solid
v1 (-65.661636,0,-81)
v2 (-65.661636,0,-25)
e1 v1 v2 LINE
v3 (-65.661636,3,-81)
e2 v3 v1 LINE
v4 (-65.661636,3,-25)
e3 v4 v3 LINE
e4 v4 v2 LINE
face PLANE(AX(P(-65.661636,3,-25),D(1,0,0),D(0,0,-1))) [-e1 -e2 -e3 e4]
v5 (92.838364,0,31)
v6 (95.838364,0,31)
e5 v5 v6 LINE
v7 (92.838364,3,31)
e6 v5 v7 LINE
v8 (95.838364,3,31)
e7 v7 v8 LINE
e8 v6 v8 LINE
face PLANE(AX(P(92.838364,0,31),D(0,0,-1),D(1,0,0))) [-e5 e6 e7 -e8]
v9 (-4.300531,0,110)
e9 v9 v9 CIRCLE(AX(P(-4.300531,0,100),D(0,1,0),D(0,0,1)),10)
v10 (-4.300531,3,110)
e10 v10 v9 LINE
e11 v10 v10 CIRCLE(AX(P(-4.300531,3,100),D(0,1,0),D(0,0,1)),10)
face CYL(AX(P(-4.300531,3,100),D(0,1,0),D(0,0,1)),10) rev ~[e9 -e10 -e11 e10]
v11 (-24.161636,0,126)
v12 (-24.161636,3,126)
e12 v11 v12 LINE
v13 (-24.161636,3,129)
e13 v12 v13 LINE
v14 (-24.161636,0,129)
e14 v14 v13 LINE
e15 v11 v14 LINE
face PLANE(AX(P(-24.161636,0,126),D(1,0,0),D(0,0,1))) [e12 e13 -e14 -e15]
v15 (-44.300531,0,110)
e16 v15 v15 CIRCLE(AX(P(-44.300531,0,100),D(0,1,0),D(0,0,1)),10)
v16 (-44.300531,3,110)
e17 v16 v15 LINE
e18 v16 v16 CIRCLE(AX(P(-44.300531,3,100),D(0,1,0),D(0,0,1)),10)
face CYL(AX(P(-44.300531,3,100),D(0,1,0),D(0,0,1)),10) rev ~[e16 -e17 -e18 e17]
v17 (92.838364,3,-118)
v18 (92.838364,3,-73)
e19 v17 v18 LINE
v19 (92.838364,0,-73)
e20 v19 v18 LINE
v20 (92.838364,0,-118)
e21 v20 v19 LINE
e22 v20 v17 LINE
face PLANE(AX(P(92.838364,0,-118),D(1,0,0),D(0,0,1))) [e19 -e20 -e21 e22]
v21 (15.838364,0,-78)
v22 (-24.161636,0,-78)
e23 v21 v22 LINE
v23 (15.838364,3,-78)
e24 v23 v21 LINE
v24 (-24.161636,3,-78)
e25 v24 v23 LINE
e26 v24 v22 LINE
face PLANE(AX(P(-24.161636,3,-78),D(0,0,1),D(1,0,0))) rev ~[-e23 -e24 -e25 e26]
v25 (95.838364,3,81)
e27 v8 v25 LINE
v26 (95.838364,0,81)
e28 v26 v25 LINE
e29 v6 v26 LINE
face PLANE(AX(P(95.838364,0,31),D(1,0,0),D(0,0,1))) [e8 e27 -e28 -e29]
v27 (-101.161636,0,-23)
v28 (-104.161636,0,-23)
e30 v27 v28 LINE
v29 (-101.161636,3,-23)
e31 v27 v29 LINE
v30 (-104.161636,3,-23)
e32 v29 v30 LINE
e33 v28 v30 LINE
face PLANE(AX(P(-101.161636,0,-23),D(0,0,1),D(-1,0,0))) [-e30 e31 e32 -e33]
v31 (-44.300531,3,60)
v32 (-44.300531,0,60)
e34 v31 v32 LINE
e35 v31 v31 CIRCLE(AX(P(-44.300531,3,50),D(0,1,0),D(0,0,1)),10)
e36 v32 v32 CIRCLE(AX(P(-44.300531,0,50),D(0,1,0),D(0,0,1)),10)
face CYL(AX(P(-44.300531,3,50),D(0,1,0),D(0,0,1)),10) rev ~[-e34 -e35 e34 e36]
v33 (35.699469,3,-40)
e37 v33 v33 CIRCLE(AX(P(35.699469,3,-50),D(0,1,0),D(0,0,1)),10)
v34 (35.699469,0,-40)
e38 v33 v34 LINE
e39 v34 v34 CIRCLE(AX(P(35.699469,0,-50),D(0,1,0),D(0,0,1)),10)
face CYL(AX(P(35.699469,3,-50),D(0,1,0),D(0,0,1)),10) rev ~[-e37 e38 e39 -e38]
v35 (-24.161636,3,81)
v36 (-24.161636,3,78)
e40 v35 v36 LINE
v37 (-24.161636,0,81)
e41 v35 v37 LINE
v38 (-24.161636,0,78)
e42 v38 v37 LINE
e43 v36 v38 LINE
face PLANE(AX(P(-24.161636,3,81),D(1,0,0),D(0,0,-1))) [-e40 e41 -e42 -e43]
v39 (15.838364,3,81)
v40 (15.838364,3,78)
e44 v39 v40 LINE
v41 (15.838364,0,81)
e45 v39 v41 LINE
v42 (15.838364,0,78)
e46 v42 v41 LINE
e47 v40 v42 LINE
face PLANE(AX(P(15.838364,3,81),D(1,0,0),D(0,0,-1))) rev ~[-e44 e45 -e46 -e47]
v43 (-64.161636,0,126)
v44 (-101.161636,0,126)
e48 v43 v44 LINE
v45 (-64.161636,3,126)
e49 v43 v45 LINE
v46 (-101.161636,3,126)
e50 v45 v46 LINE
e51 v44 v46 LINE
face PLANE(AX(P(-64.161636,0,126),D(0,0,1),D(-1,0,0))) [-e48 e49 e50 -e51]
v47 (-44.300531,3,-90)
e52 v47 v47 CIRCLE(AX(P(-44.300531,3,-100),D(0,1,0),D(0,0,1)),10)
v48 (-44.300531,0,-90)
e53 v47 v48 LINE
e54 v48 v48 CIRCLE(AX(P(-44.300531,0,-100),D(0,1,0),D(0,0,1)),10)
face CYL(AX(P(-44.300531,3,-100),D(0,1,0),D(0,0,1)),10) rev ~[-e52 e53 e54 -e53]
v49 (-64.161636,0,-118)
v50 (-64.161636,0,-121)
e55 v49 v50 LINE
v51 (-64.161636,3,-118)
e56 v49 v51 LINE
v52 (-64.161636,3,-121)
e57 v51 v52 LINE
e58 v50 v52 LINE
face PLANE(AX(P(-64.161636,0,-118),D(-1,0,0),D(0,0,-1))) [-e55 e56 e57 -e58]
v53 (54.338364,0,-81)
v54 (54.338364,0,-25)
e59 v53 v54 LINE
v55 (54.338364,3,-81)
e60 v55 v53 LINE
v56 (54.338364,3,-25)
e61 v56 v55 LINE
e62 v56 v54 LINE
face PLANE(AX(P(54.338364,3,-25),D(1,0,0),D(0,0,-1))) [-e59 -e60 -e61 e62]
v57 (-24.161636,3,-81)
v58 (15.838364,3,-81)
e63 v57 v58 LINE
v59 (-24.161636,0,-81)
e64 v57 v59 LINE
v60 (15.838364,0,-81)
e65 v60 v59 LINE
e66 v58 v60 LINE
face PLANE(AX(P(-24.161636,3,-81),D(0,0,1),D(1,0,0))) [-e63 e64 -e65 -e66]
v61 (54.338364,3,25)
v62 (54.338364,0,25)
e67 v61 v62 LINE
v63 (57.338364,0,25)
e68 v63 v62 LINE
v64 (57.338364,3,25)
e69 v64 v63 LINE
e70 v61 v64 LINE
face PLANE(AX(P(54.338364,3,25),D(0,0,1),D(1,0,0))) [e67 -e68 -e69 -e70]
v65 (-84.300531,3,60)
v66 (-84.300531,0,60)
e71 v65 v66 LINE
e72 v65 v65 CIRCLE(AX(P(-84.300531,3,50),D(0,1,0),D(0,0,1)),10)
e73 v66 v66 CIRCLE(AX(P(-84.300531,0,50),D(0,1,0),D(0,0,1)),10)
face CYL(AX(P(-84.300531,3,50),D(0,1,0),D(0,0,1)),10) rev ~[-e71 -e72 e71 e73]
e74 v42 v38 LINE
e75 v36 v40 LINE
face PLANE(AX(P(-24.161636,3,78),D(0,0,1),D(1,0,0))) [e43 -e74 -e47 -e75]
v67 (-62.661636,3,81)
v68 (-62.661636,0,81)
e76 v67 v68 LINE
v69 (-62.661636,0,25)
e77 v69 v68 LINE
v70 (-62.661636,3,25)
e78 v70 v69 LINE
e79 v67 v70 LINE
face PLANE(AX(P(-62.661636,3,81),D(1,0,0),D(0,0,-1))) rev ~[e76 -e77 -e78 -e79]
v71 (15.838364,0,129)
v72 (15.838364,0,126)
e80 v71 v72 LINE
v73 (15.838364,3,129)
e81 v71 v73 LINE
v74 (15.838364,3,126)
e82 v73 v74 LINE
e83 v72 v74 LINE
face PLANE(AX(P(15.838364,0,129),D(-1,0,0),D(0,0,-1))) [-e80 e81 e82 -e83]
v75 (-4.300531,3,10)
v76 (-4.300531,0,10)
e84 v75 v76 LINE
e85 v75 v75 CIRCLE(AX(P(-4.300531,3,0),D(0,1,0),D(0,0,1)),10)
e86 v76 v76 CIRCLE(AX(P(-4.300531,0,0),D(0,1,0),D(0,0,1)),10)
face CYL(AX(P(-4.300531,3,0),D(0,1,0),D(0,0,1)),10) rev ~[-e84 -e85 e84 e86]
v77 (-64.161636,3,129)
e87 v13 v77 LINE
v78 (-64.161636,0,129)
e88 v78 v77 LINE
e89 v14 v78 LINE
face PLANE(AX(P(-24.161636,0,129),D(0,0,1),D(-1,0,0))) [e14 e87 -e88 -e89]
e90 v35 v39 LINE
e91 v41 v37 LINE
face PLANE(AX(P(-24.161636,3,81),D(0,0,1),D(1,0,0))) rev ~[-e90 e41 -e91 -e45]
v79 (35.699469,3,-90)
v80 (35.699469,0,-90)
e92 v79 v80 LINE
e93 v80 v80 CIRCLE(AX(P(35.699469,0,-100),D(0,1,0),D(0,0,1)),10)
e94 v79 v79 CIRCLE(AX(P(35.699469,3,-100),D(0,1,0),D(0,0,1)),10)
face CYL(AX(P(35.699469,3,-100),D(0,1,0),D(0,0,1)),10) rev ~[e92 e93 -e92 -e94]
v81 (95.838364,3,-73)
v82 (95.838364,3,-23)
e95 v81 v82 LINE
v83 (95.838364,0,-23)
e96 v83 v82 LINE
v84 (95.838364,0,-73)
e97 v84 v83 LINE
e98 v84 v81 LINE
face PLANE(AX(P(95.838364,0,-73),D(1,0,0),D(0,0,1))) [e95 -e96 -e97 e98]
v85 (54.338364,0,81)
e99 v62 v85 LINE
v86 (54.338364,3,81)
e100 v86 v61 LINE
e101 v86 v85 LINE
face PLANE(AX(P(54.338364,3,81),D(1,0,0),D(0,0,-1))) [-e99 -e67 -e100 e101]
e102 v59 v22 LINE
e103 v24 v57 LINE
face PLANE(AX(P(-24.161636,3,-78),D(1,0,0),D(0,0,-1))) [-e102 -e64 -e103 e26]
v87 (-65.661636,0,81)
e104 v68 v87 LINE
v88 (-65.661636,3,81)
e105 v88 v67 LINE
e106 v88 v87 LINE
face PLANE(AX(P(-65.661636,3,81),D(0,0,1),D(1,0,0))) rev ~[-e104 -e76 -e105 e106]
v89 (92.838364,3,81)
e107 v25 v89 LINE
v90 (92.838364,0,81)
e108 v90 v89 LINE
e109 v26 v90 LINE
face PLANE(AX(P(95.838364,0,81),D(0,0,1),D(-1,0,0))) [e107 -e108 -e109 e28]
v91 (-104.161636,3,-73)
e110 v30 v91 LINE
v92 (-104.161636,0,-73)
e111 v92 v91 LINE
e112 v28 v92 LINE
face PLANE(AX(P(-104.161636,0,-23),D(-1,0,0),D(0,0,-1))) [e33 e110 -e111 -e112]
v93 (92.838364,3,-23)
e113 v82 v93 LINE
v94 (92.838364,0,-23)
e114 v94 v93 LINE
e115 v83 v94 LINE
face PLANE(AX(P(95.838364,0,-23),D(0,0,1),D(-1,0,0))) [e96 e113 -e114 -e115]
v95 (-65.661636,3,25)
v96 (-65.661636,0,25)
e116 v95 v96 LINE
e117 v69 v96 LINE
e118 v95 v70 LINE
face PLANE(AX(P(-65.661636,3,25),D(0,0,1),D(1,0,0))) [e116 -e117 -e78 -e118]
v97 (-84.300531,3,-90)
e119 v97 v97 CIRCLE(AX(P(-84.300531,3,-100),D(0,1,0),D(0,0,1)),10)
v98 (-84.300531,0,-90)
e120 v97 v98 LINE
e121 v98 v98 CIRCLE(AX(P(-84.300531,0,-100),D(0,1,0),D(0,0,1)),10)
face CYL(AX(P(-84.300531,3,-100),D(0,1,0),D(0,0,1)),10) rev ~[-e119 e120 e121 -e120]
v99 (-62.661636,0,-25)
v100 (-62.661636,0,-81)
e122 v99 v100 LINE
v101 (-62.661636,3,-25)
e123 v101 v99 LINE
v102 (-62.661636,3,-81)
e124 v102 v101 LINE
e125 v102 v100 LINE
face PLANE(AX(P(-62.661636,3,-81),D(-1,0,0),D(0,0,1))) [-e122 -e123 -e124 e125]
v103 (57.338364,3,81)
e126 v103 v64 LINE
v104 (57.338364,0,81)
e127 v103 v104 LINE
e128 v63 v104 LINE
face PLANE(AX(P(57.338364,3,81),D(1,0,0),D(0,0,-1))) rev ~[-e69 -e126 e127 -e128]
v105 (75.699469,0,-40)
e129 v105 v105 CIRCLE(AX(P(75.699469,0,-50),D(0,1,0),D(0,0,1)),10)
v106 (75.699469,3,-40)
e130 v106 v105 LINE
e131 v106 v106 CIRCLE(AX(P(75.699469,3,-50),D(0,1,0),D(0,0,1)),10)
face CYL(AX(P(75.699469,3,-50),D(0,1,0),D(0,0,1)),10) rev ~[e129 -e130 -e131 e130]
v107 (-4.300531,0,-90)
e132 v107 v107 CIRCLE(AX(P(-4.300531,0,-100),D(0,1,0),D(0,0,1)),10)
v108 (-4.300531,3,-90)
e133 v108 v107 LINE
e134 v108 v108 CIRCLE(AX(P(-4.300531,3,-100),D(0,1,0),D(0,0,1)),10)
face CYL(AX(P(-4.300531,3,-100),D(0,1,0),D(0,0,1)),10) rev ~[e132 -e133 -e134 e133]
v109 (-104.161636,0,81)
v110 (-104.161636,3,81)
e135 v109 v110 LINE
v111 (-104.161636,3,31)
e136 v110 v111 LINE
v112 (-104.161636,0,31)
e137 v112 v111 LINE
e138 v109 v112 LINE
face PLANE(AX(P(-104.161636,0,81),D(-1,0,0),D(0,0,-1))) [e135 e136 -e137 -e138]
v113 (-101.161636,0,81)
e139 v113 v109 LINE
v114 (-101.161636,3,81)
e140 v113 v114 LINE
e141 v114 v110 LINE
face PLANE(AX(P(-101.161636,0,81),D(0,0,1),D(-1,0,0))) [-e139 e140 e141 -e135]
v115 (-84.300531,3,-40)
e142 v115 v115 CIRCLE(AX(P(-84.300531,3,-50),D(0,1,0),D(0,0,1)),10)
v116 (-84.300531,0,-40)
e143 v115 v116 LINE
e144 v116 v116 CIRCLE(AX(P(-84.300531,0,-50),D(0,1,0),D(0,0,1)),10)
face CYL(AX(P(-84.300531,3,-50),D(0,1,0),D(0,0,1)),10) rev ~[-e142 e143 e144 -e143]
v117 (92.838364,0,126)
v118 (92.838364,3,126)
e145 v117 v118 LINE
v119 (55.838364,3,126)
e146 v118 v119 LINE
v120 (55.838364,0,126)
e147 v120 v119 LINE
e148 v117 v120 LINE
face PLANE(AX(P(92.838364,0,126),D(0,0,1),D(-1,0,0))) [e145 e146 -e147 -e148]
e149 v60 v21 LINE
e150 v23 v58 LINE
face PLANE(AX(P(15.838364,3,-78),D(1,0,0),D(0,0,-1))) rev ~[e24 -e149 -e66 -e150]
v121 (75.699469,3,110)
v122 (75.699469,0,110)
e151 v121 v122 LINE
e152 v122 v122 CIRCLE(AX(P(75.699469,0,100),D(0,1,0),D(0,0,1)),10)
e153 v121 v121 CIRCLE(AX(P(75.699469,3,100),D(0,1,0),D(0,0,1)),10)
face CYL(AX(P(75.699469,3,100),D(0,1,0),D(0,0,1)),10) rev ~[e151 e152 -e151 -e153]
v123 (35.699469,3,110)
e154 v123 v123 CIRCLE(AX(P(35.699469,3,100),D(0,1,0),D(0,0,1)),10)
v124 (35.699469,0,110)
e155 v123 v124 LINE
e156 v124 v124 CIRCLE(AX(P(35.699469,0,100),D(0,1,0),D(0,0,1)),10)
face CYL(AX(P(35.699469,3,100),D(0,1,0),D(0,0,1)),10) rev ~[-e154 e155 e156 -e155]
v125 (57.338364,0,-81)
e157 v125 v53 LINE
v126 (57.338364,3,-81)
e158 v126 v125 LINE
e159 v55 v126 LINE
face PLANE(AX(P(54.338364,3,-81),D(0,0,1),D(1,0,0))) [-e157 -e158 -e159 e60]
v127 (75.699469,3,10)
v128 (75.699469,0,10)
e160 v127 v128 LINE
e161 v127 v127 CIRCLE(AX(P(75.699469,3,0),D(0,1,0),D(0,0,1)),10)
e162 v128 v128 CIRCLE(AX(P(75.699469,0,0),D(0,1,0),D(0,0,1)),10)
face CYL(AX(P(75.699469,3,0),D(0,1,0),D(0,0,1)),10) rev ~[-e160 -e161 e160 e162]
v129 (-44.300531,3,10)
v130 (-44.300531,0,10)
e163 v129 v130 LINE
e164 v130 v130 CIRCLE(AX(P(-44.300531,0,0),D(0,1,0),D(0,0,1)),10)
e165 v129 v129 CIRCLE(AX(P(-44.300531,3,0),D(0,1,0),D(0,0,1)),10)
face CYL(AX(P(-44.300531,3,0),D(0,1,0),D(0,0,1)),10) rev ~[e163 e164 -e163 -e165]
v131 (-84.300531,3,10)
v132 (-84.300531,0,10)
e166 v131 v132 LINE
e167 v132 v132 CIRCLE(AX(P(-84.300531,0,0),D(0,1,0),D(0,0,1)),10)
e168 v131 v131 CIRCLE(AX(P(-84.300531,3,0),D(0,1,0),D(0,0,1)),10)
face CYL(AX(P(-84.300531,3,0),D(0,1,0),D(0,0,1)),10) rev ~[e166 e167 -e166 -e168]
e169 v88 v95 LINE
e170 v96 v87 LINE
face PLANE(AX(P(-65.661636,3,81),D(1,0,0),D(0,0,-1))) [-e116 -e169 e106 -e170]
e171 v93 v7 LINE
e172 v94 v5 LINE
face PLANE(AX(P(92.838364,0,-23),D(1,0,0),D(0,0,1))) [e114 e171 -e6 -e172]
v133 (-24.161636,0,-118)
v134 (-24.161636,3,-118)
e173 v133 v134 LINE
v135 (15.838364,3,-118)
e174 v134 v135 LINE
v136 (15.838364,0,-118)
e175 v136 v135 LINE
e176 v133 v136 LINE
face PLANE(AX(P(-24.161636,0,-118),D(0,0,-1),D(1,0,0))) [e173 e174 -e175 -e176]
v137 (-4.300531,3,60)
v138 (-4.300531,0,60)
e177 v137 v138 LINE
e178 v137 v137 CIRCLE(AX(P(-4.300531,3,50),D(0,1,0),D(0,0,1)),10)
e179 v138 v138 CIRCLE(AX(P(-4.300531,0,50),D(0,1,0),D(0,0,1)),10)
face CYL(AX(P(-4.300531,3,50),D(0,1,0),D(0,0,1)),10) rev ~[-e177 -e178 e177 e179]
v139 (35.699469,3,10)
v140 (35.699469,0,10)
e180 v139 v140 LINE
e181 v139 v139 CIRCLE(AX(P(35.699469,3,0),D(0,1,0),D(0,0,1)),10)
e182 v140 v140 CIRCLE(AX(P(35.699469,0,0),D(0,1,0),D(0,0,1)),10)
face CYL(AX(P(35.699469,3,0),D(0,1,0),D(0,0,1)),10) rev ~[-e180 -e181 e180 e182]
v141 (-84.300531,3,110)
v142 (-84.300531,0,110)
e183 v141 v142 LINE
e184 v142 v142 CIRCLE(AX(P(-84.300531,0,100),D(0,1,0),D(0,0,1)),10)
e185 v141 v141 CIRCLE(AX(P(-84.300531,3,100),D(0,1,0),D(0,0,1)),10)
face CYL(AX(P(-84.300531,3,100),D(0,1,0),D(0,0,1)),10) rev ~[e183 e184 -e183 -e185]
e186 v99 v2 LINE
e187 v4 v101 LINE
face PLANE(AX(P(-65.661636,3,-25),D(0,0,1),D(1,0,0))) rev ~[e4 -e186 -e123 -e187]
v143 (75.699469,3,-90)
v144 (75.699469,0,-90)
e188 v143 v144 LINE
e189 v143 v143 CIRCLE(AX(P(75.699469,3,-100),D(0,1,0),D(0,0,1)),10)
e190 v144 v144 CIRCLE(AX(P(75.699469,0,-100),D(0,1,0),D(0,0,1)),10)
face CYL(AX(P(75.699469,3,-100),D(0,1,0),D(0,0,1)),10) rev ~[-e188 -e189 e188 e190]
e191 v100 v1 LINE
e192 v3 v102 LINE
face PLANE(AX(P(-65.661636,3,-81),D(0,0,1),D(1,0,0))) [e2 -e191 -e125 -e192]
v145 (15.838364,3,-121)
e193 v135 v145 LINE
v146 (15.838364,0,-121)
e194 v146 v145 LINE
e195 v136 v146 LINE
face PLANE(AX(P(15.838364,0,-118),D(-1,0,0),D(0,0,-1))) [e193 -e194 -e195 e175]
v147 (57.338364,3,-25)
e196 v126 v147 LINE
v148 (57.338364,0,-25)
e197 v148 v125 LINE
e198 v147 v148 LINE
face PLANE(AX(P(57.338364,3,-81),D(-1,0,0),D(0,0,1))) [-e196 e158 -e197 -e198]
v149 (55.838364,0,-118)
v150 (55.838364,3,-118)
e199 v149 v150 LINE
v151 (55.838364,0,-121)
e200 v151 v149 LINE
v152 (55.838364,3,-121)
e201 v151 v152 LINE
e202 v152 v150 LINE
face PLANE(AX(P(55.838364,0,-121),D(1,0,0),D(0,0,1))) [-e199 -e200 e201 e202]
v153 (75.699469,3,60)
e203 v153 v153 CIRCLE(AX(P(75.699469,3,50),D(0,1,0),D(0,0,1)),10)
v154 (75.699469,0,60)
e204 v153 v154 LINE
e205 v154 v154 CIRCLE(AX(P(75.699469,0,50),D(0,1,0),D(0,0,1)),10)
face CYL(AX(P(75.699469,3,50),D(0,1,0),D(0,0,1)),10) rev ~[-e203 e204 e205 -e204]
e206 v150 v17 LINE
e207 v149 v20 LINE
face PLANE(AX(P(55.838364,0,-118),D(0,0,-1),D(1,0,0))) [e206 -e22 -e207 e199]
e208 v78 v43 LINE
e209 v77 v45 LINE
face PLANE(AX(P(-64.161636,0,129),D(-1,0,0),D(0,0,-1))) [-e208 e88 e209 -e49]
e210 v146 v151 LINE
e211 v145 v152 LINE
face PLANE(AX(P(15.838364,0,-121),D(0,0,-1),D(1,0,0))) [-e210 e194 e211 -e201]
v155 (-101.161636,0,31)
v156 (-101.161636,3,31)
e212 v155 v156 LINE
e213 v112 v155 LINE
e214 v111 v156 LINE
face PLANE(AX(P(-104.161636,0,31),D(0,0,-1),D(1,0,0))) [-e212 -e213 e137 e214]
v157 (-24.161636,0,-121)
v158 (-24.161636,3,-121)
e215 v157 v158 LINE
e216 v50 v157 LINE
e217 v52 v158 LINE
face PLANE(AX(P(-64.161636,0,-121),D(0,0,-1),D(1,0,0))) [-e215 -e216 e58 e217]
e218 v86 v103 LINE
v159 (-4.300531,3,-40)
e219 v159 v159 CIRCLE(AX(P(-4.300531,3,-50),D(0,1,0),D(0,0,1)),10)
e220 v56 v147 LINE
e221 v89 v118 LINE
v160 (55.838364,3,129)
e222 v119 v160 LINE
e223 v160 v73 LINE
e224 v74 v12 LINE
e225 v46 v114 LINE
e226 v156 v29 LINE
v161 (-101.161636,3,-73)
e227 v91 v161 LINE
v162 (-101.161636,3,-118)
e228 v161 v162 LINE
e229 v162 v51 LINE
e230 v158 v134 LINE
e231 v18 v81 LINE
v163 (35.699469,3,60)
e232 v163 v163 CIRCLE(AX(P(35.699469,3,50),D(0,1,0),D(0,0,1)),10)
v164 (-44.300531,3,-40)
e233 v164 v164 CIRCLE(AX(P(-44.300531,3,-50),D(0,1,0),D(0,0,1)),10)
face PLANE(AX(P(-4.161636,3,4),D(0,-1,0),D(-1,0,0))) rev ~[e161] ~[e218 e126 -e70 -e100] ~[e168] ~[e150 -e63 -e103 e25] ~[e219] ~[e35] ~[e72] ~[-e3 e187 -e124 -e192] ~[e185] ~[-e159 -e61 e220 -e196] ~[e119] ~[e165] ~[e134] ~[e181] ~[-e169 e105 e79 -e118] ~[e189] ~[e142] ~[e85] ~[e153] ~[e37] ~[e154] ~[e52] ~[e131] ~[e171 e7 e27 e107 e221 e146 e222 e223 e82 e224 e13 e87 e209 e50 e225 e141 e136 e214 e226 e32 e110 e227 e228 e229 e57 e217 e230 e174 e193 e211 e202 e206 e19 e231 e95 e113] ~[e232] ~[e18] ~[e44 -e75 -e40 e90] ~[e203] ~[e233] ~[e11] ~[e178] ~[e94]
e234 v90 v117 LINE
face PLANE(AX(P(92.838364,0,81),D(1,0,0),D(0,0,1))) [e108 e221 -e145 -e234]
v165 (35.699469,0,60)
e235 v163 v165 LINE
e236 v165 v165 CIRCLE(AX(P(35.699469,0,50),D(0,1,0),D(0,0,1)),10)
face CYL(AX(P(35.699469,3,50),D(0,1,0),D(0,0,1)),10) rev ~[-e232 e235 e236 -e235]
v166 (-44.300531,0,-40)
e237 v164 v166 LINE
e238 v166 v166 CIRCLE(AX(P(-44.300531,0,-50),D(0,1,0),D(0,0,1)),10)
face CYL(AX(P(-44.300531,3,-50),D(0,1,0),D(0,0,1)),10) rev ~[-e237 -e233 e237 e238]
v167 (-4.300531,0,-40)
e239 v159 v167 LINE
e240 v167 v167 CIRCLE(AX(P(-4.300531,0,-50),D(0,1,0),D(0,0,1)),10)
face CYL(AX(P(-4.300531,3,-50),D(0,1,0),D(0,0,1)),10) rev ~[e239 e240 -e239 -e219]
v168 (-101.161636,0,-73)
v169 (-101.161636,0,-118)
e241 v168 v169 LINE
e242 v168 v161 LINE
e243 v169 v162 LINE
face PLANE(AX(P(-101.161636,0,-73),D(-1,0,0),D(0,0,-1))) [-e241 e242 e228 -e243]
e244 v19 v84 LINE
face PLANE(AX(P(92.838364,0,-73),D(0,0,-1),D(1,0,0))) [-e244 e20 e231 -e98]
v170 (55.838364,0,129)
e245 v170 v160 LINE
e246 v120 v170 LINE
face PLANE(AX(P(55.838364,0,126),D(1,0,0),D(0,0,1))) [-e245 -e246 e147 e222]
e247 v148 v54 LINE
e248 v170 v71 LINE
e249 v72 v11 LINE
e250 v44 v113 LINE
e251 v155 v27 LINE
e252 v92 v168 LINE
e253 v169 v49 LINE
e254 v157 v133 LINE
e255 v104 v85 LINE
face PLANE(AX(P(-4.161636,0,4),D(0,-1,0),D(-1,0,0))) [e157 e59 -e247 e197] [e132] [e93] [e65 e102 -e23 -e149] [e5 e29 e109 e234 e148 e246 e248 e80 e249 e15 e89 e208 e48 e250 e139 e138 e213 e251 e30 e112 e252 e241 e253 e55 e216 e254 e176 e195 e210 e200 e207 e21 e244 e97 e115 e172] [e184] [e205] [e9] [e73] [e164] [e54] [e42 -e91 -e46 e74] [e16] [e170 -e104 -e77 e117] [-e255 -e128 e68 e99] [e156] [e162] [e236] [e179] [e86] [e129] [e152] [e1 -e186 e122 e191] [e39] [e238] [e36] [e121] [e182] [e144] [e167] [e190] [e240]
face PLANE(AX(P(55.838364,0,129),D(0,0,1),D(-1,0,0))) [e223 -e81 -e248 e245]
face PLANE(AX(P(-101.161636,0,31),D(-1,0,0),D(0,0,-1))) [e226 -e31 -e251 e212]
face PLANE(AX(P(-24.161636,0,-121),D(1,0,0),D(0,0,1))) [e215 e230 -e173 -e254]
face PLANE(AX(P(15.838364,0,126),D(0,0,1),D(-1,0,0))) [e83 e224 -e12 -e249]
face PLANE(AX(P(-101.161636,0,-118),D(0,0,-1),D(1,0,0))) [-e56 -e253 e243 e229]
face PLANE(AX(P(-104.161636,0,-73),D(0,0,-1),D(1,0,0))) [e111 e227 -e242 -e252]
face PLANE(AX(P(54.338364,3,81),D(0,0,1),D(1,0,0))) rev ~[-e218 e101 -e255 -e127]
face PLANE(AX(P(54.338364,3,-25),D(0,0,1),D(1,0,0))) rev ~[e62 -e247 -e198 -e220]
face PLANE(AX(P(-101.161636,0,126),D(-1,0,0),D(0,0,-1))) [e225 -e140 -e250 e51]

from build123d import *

# Parameters (mm, degrees)
BOSS_EXTRUDE1_DEPTH = 3
SKETCH2_R           = 10
SKETCH2_W           = 3
SKETCH2_H           = 56
SKETCH2_W_2         = 40
SKETCH2_H_2         = 3
CUT_EXTRUDE1_DEPTH  = 166.830173222


with BuildPart() as part:
    # Sketch1 → Boss-Extrude1 (new body)
    with BuildSketch(Plane(origin=(0, 0, 0), x_dir=(1, 0, 0), z_dir=(0, 1, 0))):
        Polygon((15.838364304, 121), (55.838364304, 121), (55.838364304, 118), (92.838364304, 118), (92.838364304, 73), (95.838364304, 73), (95.838364304, 23), (92.838364304, 23), (92.838364304, -31), (95.838364304, -31), (95.838364304, -81), (92.838364304, -81), (92.838364304, -126), (55.838364304, -126), (55.838364304, -129), (15.838364304, -129), (15.838364304, -126), (-24.161635696, -126), (-24.161635696, -129), (-64.161635696, -129), (-64.161635696, -126), (-101.161635696, -126), (-101.161635696, -81), (-104.161635696, -81), (-104.161635696, -31), (-101.161635696, -31), (-101.161635696, 23), (-104.161635696, 23), (-104.161635696, 73), (-101.161635696, 73), (-101.161635696, 118), (-64.161635696, 118), (-64.161635696, 121), (-24.161635696, 121), (-24.161635696, 118), (15.838364304, 118), align=None)
    extrude(amount=BOSS_EXTRUDE1_DEPTH)

    # Sketch2 → Cut-Extrude1 (cut, through all)
    with BuildSketch(Plane(origin=(0, 3, 0), x_dir=(1, 0, 0), z_dir=(0, 1, 0))):
        with Locations(Location((-4.300530568, 0, 0), (0, 0, 270))):
            Circle(SKETCH2_R)
        with Locations(Location((35.699469432, 0, 0), (0, 0, 270))):
            Circle(SKETCH2_R)
        with Locations(Location((75.699469432, 0, 0), (0, 0, 270))):
            Circle(SKETCH2_R)
        with Locations(Location((-44.300530568, 0, 0), (0, 0, 270))):
            Circle(SKETCH2_R)
        with Locations(Location((-84.300530568, 0, 0), (0, 0, 270))):
            Circle(SKETCH2_R)
        with Locations(Location((-84.300530568, 50, 0), (0, 0, 270))):
            Circle(SKETCH2_R)
        with Locations(Location((-44.300530568, 50, 0), (0, 0, 270))):
            Circle(SKETCH2_R)
        with Locations(Location((-4.300530568, 50, 0), (0, 0, 270))):
            Circle(SKETCH2_R)
        with Locations(Location((35.699469432, 50, 0), (0, 0, 270))):
            Circle(SKETCH2_R)
        with Locations(Location((75.699469432, 50, 0), (0, 0, 270))):
            Circle(SKETCH2_R)
        with Locations(Location((-84.300530568, 100, 0), (0, 0, 270))):
            Circle(SKETCH2_R)
        with Locations(Location((-44.300530568, 100, 0), (0, 0, 270))):
            Circle(SKETCH2_R)
        with Locations(Location((-4.300530568, 100, 0), (0, 0, 270))):
            Circle(SKETCH2_R)
        with Locations(Location((35.699469432, 100, 0), (0, 0, 270))):
            Circle(SKETCH2_R)
        with Locations(Location((75.699469432, 100, 0), (0, 0, 270))):
            Circle(SKETCH2_R)
        with Locations(Location((-84.300530568, -50, 0), (0, 0, 270))):
            Circle(SKETCH2_R)
        with Locations(Location((-44.300530568, -50, 0), (0, 0, 270))):
            Circle(SKETCH2_R)
        with Locations(Location((-4.300530568, -50, 0), (0, 0, 270))):
            Circle(SKETCH2_R)
        with Locations(Location((35.699469432, -50, 0), (0, 0, 270))):
            Circle(SKETCH2_R)
        with Locations(Location((75.699469432, -50, 0), (0, 0, 270))):
            Circle(SKETCH2_R)
        with Locations(Location((-84.300530568, -100, 0), (0, 0, 270))):
            Circle(SKETCH2_R)
        with Locations(Location((-44.300530568, -100, 0), (0, 0, 270))):
            Circle(SKETCH2_R)
        with Locations(Location((-4.300530568, -100, 0), (0, 0, 270))):
            Circle(SKETCH2_R)
        with Locations(Location((35.699469432, -100, 0), (0, 0, 270))):
            Circle(SKETCH2_R)
        with Locations(Location((75.699469432, -100, 0), (0, 0, 270))):
            Circle(SKETCH2_R)
        with Locations((-64.161635696, -53)):
            Rectangle(SKETCH2_W, SKETCH2_H)
        Polygon((-65.661635696, 25), (-65.661635696, 81), (-62.661635696, 81), (-62.661635696, 25), (-64.161635696, 25), align=None)
        Polygon((54.338364304, 81), (57.338364304, 81), (57.338364304, 25), (55.838364304, 25), (54.338364304, 25), align=None)
        with Locations((55.838364304, -53)):
            Rectangle(SKETCH2_W, SKETCH2_H)
        with Locations((-4.161635696, 79.5)):
            Rectangle(SKETCH2_W_2, SKETCH2_H_2)
        with Locations((-4.161635696, -79.5)):
            Rectangle(SKETCH2_W_2, SKETCH2_H_2)
    extrude(amount=-CUT_EXTRUDE1_DEPTH, mode=Mode.SUBTRACT)


solid = part.part
